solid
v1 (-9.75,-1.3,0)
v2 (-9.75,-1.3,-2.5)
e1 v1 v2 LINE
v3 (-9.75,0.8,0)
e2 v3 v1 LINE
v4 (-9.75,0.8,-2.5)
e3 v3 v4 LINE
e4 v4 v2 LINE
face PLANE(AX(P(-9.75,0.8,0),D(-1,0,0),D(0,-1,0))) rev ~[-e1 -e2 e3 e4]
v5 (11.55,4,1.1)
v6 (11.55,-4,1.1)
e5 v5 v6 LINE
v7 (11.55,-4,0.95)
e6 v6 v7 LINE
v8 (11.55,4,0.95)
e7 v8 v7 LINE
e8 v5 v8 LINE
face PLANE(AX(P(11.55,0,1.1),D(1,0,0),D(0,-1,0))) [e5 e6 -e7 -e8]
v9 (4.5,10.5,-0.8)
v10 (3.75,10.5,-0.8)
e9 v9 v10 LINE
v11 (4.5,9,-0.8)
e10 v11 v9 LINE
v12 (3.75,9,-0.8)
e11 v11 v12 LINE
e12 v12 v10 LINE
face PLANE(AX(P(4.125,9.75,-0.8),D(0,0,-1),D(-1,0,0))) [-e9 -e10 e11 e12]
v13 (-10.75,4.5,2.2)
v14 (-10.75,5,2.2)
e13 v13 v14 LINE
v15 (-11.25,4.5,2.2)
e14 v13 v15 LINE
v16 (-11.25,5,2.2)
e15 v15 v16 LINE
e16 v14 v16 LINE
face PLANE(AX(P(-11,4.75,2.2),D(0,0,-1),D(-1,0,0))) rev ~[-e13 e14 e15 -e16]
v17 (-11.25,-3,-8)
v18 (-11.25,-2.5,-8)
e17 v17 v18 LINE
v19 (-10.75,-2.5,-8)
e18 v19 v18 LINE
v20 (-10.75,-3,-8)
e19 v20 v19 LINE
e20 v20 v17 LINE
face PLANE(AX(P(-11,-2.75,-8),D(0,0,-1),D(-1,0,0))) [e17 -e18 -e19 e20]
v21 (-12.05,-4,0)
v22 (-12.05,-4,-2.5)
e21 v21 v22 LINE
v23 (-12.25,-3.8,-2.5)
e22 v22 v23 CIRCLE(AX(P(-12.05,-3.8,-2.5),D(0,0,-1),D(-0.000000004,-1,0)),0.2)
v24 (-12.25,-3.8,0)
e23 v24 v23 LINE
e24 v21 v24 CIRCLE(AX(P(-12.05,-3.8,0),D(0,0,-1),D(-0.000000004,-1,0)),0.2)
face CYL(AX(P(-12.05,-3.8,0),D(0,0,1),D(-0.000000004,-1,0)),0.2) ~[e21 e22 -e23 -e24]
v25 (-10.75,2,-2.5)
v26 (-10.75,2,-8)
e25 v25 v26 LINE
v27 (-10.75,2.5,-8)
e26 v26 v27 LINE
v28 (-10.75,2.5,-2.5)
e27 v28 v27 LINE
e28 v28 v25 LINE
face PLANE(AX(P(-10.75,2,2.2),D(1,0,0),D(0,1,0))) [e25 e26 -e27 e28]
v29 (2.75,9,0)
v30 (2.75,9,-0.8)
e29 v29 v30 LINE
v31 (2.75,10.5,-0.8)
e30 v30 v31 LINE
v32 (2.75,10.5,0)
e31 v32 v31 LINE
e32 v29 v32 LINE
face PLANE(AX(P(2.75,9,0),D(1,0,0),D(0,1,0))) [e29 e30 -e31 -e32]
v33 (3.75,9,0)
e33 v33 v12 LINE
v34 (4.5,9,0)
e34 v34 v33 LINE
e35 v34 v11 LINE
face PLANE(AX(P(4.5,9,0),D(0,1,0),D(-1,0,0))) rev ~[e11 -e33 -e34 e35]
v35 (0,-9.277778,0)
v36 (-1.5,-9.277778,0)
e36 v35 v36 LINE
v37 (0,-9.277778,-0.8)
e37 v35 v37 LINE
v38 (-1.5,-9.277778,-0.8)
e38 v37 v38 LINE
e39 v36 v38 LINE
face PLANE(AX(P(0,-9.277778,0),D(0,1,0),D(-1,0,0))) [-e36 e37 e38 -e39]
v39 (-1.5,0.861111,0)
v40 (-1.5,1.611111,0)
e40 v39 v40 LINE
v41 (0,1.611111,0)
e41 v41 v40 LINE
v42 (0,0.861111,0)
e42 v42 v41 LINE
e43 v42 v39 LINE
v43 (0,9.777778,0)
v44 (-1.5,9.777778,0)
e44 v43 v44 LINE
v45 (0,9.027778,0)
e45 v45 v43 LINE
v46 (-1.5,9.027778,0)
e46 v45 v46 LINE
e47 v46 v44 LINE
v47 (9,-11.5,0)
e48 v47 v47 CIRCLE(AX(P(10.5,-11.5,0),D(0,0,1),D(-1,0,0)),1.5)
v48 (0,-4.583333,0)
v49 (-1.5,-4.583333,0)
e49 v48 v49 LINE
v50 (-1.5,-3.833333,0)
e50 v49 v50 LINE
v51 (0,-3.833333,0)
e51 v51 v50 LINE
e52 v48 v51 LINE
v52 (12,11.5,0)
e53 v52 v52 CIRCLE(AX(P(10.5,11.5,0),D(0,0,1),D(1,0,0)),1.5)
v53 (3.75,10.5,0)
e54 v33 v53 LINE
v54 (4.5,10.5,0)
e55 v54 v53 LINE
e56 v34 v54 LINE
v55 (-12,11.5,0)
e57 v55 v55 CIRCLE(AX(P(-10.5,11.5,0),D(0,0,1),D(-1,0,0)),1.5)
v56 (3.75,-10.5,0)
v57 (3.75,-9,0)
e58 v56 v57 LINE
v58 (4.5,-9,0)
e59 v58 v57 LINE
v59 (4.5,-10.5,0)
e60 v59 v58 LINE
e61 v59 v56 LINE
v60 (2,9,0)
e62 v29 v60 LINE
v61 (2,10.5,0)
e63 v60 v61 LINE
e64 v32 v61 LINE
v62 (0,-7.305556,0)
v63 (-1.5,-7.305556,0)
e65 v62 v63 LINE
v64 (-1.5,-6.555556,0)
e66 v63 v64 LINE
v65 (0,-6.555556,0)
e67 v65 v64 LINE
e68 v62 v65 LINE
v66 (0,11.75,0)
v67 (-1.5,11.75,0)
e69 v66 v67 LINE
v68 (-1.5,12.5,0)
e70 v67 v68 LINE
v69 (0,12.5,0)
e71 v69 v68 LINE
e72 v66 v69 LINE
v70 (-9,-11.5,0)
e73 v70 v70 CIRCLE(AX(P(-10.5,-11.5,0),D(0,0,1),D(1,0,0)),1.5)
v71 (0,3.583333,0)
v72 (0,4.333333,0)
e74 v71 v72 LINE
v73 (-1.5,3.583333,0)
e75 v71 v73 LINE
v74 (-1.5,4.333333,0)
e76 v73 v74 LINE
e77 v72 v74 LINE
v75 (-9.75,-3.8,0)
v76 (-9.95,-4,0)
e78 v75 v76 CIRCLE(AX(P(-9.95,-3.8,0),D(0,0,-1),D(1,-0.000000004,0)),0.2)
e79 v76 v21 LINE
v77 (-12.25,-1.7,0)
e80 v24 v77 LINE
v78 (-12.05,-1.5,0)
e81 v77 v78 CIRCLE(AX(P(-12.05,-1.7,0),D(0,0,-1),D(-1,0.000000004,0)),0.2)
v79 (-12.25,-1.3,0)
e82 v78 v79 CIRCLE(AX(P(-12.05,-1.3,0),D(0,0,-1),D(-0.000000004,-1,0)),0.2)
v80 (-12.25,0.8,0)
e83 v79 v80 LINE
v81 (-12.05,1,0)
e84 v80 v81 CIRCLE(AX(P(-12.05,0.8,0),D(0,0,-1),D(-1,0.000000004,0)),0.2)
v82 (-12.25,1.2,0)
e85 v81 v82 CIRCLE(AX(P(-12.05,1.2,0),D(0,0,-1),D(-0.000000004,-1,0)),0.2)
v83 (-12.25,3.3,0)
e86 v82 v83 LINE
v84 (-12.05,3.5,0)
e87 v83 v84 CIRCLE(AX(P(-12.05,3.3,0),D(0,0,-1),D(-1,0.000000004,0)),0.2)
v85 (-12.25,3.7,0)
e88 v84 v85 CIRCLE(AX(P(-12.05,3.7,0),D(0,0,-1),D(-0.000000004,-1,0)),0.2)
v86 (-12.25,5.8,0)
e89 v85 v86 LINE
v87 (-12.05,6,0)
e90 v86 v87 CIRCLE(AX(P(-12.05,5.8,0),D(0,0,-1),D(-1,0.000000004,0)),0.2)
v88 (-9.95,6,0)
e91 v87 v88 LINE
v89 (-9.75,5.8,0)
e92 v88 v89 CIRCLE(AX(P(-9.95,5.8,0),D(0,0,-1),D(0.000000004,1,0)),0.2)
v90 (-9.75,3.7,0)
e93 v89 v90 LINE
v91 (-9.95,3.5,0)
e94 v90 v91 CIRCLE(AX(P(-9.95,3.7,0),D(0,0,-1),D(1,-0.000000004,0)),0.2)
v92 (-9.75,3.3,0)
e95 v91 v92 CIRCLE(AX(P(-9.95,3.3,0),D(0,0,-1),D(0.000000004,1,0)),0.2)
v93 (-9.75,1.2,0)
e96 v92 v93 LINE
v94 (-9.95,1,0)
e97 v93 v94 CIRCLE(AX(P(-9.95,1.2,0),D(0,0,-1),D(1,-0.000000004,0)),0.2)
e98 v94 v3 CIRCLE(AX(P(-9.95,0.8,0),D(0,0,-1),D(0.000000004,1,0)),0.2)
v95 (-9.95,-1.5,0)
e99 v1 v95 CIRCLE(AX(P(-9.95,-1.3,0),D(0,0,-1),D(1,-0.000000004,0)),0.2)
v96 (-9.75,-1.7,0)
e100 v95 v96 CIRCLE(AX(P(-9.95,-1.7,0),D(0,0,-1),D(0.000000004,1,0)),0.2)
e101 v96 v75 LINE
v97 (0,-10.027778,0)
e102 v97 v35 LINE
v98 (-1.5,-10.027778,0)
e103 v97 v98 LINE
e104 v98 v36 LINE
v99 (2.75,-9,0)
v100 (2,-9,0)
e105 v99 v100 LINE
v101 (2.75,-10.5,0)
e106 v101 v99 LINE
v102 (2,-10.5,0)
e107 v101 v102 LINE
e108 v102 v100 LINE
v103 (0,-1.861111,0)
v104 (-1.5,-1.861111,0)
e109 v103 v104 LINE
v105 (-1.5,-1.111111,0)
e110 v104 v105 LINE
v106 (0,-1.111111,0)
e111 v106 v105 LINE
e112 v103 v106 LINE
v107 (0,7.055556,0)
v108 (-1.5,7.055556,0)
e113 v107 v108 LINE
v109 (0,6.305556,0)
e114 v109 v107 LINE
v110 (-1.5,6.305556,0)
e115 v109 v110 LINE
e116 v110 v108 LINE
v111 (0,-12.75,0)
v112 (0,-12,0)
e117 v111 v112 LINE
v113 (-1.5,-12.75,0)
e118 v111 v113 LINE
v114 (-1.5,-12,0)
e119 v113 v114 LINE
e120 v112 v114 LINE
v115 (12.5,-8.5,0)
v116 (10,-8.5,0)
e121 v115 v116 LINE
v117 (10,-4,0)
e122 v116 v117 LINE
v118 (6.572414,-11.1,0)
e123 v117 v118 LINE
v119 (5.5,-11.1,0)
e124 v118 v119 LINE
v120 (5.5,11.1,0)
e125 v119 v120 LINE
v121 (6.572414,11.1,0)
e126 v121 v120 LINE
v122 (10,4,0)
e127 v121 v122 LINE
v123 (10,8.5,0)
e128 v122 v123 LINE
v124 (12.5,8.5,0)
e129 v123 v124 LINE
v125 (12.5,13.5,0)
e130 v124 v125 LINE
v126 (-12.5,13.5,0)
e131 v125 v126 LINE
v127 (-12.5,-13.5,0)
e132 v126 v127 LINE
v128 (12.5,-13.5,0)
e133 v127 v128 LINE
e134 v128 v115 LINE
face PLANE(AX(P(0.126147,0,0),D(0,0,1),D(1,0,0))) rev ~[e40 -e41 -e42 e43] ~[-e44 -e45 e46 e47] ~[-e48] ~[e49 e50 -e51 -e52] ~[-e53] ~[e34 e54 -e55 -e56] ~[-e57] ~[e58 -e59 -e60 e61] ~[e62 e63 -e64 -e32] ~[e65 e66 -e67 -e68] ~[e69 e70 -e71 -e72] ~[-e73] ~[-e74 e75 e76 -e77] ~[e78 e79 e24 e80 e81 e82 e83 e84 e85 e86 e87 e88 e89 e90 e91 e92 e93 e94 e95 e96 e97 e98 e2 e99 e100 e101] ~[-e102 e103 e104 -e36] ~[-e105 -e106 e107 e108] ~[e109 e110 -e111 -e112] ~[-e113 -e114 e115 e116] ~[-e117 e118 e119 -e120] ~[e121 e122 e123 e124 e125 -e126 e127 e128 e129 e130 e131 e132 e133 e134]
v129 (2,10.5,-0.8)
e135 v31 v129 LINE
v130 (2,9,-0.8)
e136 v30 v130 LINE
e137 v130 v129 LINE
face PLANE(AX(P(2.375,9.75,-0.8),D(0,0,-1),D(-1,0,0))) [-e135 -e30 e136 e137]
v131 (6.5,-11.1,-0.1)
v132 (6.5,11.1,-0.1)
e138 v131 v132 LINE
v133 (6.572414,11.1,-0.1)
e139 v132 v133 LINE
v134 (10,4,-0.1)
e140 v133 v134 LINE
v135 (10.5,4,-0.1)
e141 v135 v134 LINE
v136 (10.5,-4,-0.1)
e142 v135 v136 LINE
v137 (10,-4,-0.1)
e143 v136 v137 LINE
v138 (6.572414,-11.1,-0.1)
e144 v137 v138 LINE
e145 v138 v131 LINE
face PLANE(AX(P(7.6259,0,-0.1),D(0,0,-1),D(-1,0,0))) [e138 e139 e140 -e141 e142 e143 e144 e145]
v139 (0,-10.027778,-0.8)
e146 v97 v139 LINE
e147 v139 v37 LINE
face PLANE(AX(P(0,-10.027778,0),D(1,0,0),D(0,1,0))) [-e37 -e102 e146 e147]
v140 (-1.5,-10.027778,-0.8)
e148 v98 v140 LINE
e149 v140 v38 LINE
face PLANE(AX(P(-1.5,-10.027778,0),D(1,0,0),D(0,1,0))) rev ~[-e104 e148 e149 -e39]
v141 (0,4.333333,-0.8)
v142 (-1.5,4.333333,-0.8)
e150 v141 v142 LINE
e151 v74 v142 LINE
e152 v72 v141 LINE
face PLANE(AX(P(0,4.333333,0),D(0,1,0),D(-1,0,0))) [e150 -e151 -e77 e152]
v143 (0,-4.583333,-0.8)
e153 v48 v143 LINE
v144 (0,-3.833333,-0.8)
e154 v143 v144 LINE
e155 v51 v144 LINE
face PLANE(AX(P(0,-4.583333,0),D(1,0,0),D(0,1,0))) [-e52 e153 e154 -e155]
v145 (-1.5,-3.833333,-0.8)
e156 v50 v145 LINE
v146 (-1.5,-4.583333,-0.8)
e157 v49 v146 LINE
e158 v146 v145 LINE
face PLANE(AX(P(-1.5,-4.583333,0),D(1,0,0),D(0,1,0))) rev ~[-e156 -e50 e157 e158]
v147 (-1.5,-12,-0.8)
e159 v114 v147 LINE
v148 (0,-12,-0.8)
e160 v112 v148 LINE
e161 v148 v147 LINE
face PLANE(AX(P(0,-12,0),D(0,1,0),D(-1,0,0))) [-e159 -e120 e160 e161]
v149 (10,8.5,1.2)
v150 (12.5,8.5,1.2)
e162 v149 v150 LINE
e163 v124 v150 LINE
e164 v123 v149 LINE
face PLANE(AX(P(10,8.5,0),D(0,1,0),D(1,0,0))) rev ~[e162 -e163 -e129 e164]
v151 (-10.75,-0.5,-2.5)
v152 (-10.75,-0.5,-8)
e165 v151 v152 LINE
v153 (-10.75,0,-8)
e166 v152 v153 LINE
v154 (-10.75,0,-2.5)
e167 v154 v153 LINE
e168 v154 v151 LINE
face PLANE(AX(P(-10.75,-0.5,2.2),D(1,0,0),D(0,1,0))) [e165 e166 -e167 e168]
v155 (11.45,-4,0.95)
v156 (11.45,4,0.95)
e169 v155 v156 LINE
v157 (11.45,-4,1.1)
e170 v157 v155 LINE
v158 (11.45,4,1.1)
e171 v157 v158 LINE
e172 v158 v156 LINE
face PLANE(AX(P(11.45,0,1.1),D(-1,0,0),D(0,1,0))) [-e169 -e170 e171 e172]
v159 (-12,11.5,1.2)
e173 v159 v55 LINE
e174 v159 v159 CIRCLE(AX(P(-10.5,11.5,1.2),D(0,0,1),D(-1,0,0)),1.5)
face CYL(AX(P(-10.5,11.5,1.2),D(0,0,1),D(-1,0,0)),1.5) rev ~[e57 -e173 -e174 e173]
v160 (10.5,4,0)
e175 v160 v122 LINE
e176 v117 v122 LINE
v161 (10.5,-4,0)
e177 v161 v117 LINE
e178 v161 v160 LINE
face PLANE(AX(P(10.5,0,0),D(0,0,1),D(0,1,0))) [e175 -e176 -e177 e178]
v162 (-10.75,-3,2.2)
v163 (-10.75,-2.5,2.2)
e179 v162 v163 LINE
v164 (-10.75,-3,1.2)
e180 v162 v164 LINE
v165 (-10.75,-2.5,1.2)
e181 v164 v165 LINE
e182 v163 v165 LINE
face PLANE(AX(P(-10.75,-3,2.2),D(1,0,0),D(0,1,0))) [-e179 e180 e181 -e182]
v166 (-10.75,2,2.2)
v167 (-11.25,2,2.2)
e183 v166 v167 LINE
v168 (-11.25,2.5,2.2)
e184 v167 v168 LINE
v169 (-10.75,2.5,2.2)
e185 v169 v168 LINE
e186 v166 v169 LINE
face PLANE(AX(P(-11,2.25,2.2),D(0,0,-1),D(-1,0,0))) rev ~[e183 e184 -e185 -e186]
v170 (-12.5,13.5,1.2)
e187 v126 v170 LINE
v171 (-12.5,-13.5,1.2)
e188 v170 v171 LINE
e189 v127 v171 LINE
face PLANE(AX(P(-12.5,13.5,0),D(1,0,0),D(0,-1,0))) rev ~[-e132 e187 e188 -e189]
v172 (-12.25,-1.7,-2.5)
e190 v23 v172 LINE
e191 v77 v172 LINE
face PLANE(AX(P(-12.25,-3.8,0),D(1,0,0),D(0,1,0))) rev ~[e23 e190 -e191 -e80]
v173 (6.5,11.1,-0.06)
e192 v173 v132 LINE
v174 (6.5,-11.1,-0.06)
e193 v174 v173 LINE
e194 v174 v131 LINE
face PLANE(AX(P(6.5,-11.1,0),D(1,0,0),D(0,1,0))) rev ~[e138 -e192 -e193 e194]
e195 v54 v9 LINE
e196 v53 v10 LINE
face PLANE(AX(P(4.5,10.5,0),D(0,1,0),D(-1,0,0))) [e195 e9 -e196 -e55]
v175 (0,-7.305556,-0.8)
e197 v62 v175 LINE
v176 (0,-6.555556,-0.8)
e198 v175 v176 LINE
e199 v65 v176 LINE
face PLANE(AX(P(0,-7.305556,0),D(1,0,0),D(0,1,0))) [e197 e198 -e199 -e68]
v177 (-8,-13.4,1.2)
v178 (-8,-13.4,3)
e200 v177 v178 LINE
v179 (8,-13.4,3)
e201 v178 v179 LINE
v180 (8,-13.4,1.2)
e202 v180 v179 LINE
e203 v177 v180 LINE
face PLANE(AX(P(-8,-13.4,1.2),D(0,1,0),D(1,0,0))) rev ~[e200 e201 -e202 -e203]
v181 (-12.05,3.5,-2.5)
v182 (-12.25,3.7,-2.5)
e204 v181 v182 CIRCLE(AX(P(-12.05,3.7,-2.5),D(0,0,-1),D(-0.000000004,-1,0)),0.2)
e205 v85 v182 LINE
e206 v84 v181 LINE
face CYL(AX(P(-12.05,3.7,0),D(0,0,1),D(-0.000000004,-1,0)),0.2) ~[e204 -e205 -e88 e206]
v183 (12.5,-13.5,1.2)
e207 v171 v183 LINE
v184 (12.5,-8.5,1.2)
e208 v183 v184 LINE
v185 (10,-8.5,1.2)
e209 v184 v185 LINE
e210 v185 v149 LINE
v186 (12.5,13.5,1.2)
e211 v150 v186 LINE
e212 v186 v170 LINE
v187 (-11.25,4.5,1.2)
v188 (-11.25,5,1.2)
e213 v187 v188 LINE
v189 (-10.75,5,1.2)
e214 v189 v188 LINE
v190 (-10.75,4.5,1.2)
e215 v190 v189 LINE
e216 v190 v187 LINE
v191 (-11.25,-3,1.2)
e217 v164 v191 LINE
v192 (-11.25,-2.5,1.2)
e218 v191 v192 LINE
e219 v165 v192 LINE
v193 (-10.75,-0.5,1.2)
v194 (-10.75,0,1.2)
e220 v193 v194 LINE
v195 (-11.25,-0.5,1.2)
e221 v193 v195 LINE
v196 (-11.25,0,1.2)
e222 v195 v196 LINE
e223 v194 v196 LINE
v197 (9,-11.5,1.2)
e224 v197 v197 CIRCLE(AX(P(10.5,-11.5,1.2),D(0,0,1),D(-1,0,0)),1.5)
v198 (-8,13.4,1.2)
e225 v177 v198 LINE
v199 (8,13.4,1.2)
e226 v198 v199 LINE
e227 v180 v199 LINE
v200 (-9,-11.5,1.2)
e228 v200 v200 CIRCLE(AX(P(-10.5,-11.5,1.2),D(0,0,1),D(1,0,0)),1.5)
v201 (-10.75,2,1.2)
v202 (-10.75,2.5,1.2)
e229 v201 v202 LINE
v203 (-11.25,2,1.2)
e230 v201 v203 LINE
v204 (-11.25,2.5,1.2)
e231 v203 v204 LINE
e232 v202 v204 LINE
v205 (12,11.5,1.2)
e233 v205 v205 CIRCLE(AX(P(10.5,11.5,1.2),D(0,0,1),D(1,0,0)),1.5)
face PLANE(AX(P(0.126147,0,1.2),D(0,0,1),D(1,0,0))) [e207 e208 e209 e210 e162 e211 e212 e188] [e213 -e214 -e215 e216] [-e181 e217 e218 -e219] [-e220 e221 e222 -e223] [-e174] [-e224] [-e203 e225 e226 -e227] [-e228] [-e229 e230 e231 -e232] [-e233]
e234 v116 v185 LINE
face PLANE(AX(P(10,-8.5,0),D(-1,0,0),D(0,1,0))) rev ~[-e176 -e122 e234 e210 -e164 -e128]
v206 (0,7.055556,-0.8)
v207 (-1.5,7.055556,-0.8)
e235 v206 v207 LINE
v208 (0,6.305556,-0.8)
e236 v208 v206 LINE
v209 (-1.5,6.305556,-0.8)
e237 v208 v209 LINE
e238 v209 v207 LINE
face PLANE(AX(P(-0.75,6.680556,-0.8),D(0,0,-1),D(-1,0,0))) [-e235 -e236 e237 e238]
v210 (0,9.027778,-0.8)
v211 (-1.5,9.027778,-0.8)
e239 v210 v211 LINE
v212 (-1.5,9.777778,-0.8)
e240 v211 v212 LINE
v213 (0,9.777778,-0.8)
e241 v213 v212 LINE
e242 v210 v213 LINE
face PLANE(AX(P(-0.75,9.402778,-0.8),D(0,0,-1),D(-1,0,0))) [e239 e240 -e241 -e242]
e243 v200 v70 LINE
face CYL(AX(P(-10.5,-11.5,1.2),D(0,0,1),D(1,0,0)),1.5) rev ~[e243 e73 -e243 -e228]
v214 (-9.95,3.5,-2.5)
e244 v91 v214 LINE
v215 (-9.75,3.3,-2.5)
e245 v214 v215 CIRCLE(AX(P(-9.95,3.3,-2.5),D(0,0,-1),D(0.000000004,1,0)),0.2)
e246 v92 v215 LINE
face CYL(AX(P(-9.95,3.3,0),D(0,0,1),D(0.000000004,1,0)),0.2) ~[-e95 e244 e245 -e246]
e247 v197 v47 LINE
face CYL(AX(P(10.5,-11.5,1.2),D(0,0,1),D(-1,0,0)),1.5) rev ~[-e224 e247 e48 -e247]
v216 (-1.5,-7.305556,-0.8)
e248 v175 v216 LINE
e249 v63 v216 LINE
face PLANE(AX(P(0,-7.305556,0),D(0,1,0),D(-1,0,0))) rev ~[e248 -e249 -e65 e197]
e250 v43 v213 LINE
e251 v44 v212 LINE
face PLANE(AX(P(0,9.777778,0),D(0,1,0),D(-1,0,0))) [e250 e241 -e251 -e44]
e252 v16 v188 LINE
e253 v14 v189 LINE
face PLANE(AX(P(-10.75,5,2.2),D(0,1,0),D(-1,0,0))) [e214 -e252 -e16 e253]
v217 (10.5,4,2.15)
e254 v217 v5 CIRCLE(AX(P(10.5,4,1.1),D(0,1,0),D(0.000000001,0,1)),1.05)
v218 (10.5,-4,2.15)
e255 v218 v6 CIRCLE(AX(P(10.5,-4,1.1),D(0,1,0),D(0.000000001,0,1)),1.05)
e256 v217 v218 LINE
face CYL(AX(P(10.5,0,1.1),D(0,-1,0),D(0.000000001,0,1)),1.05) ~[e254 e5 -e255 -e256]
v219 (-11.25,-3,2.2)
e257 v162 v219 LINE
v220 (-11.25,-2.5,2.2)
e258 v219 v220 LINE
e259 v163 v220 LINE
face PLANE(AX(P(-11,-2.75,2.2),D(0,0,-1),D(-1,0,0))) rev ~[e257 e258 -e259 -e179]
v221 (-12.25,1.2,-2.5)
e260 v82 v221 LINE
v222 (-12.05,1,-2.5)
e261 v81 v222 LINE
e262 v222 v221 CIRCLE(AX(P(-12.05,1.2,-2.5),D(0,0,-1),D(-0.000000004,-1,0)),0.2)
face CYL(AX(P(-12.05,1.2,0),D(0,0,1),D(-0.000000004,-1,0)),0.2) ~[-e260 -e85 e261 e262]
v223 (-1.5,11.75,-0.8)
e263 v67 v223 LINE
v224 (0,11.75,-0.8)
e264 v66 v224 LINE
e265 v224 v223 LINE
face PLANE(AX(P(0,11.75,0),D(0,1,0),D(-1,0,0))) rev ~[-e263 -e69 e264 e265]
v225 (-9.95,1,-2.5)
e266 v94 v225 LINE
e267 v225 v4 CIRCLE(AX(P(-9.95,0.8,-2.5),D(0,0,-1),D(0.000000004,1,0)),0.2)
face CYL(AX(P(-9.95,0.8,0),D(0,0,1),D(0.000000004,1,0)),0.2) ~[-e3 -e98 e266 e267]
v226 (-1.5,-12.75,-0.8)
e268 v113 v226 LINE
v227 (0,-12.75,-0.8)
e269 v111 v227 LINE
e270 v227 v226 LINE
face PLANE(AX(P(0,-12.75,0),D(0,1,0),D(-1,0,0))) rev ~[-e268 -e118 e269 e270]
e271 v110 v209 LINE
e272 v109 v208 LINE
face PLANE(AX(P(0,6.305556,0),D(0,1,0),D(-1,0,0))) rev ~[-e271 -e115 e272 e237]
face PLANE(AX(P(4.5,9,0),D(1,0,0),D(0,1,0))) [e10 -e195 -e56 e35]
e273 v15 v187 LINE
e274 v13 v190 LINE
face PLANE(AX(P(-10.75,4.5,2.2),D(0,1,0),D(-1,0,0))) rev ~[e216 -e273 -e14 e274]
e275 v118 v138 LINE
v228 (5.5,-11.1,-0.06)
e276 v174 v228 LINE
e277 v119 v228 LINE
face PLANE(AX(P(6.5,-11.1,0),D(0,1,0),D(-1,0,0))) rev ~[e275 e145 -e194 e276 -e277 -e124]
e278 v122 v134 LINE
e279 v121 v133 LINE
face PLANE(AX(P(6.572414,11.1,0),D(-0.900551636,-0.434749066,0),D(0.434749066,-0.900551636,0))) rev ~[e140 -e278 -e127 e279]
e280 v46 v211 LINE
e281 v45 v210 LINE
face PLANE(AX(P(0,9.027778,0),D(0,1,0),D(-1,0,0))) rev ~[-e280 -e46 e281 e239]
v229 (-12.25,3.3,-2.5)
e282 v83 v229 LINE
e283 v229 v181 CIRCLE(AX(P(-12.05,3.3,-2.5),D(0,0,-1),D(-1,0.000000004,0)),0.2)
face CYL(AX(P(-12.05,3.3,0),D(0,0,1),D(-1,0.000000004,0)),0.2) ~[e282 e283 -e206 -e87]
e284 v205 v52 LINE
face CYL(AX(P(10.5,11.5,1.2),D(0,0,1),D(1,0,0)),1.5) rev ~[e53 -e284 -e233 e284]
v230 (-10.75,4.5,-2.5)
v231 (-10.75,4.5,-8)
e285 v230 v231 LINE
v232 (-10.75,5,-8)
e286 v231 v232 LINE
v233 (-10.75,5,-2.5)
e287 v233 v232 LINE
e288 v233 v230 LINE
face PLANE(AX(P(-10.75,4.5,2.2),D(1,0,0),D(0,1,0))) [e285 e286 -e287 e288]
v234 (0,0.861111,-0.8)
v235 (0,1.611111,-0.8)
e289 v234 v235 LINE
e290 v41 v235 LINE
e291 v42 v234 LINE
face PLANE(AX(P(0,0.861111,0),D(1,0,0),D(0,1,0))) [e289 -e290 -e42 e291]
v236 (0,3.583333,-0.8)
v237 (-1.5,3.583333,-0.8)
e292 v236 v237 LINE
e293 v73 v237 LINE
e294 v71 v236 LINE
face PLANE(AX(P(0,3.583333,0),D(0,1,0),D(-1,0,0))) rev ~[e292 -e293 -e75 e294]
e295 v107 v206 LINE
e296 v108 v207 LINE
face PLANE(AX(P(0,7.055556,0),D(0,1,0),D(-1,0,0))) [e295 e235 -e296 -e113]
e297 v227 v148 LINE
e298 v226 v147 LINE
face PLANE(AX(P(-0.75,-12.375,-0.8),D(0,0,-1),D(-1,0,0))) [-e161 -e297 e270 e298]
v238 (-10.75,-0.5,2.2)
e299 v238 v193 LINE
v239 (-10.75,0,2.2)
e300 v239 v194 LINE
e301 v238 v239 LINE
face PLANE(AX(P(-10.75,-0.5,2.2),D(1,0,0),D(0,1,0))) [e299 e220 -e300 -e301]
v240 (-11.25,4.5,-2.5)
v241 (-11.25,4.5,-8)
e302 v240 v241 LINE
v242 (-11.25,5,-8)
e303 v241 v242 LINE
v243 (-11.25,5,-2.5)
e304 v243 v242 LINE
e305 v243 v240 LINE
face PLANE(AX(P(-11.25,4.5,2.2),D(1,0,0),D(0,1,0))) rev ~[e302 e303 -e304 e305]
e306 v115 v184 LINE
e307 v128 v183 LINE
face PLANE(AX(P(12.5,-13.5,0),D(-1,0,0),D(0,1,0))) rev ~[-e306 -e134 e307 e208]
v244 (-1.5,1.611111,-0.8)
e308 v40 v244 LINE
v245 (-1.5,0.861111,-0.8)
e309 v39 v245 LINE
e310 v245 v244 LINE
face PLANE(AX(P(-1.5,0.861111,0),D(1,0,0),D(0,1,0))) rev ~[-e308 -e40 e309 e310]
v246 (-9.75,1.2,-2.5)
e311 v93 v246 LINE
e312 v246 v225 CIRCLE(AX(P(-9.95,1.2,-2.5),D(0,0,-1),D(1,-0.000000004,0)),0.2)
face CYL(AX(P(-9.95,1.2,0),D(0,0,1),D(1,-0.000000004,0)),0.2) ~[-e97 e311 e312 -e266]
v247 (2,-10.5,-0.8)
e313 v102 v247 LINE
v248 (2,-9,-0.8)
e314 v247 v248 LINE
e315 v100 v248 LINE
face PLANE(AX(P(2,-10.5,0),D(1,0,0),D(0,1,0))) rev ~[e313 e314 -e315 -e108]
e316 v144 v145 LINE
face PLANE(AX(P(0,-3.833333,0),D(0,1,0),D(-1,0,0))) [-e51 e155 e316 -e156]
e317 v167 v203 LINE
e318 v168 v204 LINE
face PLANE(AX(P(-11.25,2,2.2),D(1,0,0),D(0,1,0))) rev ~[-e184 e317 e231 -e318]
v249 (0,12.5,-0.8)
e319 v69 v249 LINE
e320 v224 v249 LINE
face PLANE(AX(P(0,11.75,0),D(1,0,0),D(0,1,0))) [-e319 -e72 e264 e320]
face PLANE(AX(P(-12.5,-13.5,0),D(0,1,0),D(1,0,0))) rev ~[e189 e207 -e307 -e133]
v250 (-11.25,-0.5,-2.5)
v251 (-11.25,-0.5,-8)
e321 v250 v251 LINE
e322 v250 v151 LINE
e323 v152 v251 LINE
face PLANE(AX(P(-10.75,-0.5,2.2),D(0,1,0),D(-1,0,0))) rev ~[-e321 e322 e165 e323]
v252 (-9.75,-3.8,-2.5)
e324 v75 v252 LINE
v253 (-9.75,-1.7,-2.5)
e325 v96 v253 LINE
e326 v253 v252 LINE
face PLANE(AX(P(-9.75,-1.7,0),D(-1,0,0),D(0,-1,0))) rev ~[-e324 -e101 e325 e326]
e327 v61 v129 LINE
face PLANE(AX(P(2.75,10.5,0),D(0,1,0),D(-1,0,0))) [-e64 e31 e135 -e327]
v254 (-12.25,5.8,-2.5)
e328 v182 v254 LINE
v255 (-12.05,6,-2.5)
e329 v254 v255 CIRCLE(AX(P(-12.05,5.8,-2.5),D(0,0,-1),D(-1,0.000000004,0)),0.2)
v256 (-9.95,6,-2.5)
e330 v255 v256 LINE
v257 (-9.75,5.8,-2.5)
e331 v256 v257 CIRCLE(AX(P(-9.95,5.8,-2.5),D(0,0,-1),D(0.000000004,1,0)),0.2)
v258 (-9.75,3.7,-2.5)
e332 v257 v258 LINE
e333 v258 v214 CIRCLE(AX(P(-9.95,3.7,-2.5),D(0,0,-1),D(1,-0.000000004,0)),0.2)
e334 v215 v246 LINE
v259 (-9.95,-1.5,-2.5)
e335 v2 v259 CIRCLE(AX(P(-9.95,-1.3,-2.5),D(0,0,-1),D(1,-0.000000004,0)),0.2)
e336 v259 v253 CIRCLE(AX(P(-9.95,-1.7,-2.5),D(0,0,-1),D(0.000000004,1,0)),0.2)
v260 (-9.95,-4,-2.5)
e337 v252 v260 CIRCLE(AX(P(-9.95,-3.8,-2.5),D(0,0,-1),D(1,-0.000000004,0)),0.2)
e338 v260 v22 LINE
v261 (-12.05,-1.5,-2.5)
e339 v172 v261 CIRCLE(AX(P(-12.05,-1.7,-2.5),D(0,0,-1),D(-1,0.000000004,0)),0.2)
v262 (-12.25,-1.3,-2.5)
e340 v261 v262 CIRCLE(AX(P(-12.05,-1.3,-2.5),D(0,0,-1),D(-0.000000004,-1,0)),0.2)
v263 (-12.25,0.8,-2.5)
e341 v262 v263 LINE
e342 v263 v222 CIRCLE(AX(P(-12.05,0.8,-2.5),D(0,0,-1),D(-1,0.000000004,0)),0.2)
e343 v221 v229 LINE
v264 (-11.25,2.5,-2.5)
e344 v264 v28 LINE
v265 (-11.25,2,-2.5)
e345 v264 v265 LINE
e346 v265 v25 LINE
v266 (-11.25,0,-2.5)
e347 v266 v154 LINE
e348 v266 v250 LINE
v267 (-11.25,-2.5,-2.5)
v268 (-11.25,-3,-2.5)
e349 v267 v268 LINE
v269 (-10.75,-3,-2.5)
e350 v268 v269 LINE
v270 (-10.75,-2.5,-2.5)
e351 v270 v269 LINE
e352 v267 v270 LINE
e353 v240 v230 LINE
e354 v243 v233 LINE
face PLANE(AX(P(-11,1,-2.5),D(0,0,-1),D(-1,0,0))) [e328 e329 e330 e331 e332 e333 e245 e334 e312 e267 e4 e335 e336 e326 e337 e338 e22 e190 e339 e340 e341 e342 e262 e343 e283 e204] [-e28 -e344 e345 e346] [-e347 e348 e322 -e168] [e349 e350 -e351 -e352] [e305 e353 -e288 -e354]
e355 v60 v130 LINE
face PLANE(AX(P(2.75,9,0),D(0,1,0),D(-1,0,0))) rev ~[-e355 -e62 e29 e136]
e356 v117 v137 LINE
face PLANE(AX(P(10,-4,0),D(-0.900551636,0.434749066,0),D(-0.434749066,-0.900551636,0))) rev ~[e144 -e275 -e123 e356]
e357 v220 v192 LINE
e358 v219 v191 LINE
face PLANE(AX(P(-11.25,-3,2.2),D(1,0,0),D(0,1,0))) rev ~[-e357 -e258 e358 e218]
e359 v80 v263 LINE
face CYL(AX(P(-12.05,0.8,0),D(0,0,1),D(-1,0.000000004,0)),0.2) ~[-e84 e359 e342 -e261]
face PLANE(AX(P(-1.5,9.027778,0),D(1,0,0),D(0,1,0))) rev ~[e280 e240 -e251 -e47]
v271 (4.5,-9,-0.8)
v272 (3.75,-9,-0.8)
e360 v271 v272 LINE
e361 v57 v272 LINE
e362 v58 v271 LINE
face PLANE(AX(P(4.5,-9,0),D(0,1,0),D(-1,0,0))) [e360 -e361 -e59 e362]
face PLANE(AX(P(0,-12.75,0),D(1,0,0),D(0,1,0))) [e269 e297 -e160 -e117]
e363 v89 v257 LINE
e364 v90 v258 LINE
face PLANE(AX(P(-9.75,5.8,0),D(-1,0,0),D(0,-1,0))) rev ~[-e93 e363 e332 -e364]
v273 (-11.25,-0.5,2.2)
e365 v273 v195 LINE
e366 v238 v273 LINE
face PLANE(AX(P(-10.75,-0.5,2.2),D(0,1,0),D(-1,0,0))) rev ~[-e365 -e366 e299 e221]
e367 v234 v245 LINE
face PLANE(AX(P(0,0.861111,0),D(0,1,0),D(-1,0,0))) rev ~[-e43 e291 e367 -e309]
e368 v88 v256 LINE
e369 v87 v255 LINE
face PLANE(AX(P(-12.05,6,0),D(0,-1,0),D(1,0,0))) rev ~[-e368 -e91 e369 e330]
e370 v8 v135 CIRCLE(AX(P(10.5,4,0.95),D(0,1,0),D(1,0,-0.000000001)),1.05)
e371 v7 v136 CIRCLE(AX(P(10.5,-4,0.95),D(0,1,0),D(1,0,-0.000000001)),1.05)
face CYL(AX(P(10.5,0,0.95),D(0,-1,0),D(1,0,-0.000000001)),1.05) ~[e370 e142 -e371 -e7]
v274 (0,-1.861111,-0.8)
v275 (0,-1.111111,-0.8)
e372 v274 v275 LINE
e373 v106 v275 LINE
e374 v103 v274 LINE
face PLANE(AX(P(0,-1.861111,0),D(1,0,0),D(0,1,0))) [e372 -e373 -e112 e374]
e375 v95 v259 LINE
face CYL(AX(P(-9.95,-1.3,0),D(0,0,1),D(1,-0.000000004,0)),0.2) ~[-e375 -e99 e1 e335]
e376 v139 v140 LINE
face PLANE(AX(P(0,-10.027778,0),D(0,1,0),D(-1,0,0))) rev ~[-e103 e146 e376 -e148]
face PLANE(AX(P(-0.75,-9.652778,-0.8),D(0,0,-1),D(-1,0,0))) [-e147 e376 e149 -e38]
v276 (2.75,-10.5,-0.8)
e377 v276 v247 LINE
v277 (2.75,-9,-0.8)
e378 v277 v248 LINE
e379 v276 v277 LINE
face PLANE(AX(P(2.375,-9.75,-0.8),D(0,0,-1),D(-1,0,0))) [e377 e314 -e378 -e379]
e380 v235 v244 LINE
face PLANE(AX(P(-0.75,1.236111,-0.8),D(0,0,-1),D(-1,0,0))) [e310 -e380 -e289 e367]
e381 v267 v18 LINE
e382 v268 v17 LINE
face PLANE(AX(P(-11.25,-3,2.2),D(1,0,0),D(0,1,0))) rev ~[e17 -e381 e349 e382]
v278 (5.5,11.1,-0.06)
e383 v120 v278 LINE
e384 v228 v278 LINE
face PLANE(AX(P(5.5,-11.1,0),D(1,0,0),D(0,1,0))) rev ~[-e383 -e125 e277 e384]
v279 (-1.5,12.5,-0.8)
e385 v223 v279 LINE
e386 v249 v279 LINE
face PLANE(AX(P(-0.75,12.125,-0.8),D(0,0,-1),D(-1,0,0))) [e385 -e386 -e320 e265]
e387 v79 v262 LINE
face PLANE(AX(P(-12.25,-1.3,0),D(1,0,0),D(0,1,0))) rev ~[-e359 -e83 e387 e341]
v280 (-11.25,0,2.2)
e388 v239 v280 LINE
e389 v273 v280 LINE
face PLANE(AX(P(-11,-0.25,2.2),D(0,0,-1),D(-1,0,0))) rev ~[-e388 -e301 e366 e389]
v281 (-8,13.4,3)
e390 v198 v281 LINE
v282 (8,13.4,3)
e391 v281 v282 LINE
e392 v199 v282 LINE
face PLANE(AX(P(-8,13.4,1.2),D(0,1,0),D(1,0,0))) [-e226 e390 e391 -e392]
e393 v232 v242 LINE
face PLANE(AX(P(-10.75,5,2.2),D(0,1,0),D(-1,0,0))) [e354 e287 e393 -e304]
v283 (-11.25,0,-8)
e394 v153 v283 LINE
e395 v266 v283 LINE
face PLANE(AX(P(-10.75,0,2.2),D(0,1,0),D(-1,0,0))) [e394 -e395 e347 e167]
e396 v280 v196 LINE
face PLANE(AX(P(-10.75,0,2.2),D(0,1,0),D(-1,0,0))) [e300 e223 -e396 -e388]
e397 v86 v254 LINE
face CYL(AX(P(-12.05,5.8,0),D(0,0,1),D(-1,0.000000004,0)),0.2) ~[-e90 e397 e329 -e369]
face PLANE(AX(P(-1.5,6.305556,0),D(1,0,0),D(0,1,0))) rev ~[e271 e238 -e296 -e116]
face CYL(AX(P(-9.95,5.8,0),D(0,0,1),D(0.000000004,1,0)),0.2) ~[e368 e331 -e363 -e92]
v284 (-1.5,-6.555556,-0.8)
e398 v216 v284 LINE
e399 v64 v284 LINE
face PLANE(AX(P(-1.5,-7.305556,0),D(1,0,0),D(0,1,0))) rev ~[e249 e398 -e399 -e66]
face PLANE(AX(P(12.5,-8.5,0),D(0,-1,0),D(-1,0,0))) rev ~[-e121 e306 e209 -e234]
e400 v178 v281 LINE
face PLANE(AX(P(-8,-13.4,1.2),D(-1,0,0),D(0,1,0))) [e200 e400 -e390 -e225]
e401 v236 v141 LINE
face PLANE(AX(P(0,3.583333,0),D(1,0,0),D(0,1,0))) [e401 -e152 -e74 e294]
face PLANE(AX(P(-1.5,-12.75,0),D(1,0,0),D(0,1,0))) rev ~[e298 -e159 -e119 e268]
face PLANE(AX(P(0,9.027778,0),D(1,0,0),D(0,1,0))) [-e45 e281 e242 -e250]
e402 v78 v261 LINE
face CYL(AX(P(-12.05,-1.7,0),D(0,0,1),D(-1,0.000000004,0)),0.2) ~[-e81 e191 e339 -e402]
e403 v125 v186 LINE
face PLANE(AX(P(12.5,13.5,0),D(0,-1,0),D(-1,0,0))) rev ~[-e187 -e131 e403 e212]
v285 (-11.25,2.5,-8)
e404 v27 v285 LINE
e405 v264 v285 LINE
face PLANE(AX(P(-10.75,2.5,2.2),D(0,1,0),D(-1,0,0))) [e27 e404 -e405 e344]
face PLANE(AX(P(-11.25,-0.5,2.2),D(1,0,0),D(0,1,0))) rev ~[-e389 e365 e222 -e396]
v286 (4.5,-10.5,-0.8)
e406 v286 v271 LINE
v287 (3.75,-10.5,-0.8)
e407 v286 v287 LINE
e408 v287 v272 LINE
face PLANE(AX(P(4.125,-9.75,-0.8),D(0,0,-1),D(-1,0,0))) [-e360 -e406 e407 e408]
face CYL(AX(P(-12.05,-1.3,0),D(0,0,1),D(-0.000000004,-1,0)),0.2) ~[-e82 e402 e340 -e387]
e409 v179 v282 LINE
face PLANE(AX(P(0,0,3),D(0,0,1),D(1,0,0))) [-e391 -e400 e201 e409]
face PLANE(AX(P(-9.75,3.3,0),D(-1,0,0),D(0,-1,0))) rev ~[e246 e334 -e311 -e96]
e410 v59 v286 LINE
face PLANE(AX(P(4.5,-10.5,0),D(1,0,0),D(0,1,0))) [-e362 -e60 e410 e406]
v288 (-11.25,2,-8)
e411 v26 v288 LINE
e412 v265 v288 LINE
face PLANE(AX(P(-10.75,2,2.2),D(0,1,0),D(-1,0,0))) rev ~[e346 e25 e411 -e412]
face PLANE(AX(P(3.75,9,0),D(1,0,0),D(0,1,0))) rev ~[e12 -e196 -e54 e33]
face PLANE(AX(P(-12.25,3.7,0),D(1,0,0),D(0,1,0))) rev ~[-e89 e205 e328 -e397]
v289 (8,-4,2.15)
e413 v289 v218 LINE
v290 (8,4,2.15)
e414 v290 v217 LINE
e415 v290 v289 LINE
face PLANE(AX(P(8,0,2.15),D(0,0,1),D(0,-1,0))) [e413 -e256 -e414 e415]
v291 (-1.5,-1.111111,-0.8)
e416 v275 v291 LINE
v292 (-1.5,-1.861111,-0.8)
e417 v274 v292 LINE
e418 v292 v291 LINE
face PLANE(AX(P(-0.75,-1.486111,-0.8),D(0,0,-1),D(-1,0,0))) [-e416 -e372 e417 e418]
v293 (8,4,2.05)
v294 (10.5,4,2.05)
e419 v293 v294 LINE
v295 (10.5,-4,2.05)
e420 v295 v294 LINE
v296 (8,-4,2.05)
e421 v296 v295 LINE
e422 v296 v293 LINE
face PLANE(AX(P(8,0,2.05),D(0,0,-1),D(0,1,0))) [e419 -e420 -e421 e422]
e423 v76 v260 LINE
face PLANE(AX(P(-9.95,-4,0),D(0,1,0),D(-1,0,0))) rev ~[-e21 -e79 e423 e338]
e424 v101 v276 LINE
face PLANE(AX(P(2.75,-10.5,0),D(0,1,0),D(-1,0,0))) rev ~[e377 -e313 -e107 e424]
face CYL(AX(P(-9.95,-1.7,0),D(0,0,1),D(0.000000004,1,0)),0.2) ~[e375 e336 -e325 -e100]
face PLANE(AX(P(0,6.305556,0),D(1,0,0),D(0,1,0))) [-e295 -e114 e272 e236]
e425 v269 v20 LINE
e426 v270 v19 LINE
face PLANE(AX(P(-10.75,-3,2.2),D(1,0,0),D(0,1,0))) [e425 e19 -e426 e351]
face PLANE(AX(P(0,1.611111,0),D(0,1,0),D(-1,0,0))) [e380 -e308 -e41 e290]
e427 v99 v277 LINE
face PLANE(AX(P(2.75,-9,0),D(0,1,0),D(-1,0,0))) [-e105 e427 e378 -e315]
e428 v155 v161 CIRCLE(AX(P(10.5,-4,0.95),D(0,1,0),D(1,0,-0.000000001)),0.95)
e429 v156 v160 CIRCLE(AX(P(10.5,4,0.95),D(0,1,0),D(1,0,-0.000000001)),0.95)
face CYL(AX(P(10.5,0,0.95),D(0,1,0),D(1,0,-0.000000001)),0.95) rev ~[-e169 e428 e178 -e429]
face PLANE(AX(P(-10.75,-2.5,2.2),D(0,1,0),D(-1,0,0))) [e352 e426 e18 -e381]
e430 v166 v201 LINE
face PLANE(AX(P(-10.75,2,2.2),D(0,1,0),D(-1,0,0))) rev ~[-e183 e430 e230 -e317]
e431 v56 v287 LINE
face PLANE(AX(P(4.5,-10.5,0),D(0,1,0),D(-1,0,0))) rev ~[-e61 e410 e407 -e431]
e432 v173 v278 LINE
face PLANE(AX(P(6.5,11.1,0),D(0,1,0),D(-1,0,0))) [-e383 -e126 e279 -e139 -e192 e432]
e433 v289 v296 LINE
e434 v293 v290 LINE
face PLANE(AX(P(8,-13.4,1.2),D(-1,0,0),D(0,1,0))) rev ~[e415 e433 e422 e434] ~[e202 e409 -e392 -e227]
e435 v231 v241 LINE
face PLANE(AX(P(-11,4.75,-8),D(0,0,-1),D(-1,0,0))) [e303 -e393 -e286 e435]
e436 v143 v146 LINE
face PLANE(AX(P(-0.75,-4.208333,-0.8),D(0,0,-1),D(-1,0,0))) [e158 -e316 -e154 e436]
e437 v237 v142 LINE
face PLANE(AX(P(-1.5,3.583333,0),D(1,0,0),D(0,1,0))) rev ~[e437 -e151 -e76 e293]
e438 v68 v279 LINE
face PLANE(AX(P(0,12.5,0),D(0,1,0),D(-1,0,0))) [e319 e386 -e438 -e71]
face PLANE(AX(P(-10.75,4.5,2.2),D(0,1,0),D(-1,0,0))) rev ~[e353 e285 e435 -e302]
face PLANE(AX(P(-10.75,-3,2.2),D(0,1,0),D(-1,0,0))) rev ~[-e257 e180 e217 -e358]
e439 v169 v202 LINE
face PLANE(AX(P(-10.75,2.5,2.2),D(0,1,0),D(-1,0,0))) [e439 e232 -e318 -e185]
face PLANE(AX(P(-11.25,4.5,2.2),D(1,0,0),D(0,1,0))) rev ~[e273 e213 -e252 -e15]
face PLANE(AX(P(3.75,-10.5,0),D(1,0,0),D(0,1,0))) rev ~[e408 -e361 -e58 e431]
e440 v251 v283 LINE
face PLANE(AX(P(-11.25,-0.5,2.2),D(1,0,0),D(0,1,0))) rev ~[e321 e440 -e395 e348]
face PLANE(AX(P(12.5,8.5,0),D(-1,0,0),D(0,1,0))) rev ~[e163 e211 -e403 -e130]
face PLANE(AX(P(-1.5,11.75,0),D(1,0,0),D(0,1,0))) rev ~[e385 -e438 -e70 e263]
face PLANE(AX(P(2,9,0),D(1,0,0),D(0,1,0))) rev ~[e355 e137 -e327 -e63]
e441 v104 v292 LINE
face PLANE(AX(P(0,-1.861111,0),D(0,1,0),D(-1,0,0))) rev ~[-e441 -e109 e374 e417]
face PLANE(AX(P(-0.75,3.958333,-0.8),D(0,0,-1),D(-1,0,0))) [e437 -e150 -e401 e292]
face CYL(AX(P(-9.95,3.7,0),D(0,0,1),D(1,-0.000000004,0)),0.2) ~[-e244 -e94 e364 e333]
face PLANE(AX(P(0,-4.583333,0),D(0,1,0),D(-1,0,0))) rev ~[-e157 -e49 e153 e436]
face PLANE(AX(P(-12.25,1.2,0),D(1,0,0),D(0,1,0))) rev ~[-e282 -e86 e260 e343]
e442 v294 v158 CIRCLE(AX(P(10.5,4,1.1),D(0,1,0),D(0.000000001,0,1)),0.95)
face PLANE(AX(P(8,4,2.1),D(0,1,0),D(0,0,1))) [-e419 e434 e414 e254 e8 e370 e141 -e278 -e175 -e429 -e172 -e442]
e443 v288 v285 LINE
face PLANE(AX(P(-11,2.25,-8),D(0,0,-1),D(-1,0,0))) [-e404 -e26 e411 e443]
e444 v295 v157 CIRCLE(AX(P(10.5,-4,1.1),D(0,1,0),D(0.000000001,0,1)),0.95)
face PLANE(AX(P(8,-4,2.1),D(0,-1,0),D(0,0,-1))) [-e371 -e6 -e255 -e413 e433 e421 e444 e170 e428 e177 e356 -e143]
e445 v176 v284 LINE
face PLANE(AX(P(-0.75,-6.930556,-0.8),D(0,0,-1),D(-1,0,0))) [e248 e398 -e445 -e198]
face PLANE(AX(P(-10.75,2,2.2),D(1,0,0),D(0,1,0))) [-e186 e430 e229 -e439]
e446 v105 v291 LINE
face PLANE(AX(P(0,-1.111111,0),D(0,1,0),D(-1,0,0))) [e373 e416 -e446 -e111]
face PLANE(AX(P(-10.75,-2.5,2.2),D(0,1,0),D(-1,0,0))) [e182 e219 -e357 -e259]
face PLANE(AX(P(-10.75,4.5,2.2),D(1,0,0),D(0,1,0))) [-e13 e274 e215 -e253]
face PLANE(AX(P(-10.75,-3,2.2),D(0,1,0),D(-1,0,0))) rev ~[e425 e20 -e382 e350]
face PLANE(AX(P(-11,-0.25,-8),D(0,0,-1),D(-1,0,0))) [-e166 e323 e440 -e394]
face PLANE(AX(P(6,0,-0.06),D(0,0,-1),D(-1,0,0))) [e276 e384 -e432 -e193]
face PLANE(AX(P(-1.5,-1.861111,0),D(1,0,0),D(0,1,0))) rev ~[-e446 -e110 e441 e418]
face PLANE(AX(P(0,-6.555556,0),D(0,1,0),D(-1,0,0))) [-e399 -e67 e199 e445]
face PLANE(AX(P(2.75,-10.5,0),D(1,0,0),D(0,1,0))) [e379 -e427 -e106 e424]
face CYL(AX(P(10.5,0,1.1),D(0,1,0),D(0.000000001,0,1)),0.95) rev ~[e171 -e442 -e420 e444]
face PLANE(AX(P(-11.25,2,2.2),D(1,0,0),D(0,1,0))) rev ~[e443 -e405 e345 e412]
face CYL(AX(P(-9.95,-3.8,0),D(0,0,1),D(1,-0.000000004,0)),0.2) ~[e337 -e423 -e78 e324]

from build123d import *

# Parameters (mm, degrees)
BOSS_EXTRUDE1_DEPTH      = 1.2
SKETCH2_R                = 1.5
CUT_EXTRUDE1_DEPTH       = 19.437461864
BOSS_EXTRUDE2_DEPTH      = 2.5
BOSS_EXTRUDE3_DEPTH      = 5.5
BOSS_EXTRUDE3_DEPTH_BACK = 4.7
SKETCH6_W                = 0.5
SKETCH6_H                = 0.5
SKETCH7_W                = 16
SKETCH7_H                = 26.8
BOSS_EXTRUDE4_DEPTH      = 1.8
SKETCH8_W                = 1.5
SKETCH8_H                = 0.75
SKETCH8_W_2              = 0.75
SKETCH8_H_2              = 1.5
BOSS_EXTRUDE5_DEPTH      = 0.8
SKETCH10_W               = 0.1
SKETCH10_H               = 8
BOSS_EXTRUDE6_DEPTH      = 0.1
SKETCH12_W               = 1
SKETCH12_H               = 22.2
BOSS_EXTRUDE7_DEPTH      = 0.06


with BuildPart() as part:
    # Sketch1 → Boss-Extrude1 (new body)
    with BuildSketch(Plane.XY):
        Polygon((10, -8.5), (10, 8.5), (12.5, 8.5), (12.5, 13.5), (-12.5, 13.5), (-12.5, -13.5), (12.5, -13.5), (12.5, -8.5), align=None)
    extrude(amount=BOSS_EXTRUDE1_DEPTH)

    # Sketch2 → Cut-Extrude1 (cut, through all)
    with BuildSketch(Plane.XY.offset(1.2)):
        with Locations((10.5, 11.5)):
            Circle(SKETCH2_R)
        with Locations(Location((10.5, -11.5, 0), (0, 0, 180))):
            Circle(SKETCH2_R)
        with Locations(Location((-10.5, 11.5, 0), (0, 0, 180))):
            Circle(SKETCH2_R)
        with Locations((-10.5, -11.5)):
            Circle(SKETCH2_R)
    extrude(amount=-CUT_EXTRUDE1_DEPTH, mode=Mode.SUBTRACT)

    # Sketch5 → Boss-Extrude2 (add)
    with BuildSketch(Plane(origin=(0, 0, 0), x_dir=(-1, 0, 0), z_dir=(0, 0, -1))):
        with BuildLine():
            Line((12.05, 6), (9.95, 6))
            ThreePointArc((9.95, 6), (9.808578644, 5.941421356), (9.75, 5.8))
            Line((9.75, 5.8), (9.75, 3.7))
            ThreePointArc((9.75, 3.7), (9.808578644, 3.558578644), (9.95, 3.5))
            ThreePointArc((9.95, 3.5), (9.808578644, 3.441421356), (9.75, 3.3))
            Line((9.75, 3.3), (9.75, 1.2))
            ThreePointArc((9.75, 1.2), (9.808578644, 1.058578644), (9.95, 1))
            ThreePointArc((9.95, 1), (9.808578644, 0.941421356), (9.75, 0.8))
            Line((9.75, 0.8), (9.75, -1.3))
            ThreePointArc((9.75, -1.3), (9.808578644, -1.441421356), (9.95, -1.5))
            ThreePointArc((9.95, -1.5), (9.808578644, -1.558578644), (9.75, -1.7))
            Line((9.75, -1.7), (9.75, -3.8))
            ThreePointArc((9.75, -3.8), (9.808578644, -3.941421356), (9.95, -4))
            Line((9.95, -4), (12.05, -4))
            ThreePointArc((12.05, -4), (12.191421356, -3.941421356), (12.25, -3.8))
            Line((12.25, -3.8), (12.25, -1.7))
            ThreePointArc((12.25, -1.7), (12.191421356, -1.558578644), (12.05, -1.5))
            ThreePointArc((12.05, -1.5), (12.191421356, -1.441421356), (12.25, -1.3))
            Line((12.25, -1.3), (12.25, 0.8))
            ThreePointArc((12.25, 0.8), (12.191421356, 0.941421356), (12.05, 1))
            ThreePointArc((12.05, 1), (12.191421356, 1.058578644), (12.25, 1.2))
            Line((12.25, 1.2), (12.25, 3.3))
            ThreePointArc((12.25, 3.3), (12.191421356, 3.441421356), (12.05, 3.5))
            ThreePointArc((12.05, 3.5), (12.191421356, 3.558578644), (12.25, 3.7))
            Line((12.25, 3.7), (12.25, 5.8))
            ThreePointArc((12.25, 5.8), (12.191421356, 5.941421356), (12.05, 6))
        make_face()
    extrude(amount=BOSS_EXTRUDE2_DEPTH)

    # Sketch6 → Boss-Extrude3 (add, two sides: drawn at the far end of the back side and taken through both)
    with BuildSketch(Plane(origin=(0, 0, -2.5), x_dir=(-1, 0, 0), z_dir=(0, 0, -1)).offset(-BOSS_EXTRUDE3_DEPTH_BACK)):
        with Locations((11, 4.75)):
            Rectangle(SKETCH6_W, SKETCH6_H)
        with Locations((11, 2.25)):
            Rectangle(SKETCH6_W, SKETCH6_H)
        with Locations((11, -0.25)):
            Rectangle(SKETCH6_W, SKETCH6_H)
        with Locations((11, -2.75)):
            Rectangle(SKETCH6_W, SKETCH6_H)
    extrude(amount=BOSS_EXTRUDE3_DEPTH + BOSS_EXTRUDE3_DEPTH_BACK)

    # Sketch7 → Boss-Extrude4 (add)
    with BuildSketch(Plane.XY.offset(1.2)):
        Rectangle(SKETCH7_W, SKETCH7_H)
    extrude(amount=BOSS_EXTRUDE4_DEPTH)

    # Sketch8 → Boss-Extrude5 (add)
    with BuildSketch(Plane(origin=(0, 0, 0), x_dir=(-1, 0, 0), z_dir=(0, 0, -1))):
        with Locations((0.75, 12.125)):
            Rectangle(SKETCH8_W, SKETCH8_H)
        with Locations((0.75, 9.402777778)):
            Rectangle(SKETCH8_W, SKETCH8_H)
        with Locations((0.75, 6.680555556)):
            Rectangle(SKETCH8_W, SKETCH8_H)
        with Locations((0.75, 3.958333333)):
            Rectangle(SKETCH8_W, SKETCH8_H)
        with Locations((0.75, 1.236111111)):
            Rectangle(SKETCH8_W, SKETCH8_H)
        with Locations((0.75, -1.486111111)):
            Rectangle(SKETCH8_W, SKETCH8_H)
        with Locations((0.75, -4.208333333)):
            Rectangle(SKETCH8_W, SKETCH8_H)
        with Locations((0.75, -6.930555556)):
            Rectangle(SKETCH8_W, SKETCH8_H)
        with Locations((0.75, -9.652777778)):
            Rectangle(SKETCH8_W, SKETCH8_H)
        with Locations((0.75, -12.375)):
            Rectangle(SKETCH8_W, SKETCH8_H)
        with Locations((-2.375, -9.75)):
            Rectangle(SKETCH8_W_2, SKETCH8_H_2)
        with Locations((-4.125, -9.75)):
            Rectangle(SKETCH8_W_2, SKETCH8_H_2)
        with Locations((-2.375, 9.75)):
            Rectangle(SKETCH8_W_2, SKETCH8_H_2)
        with Locations((-4.125, 9.75)):
            Rectangle(SKETCH8_W_2, SKETCH8_H_2)
    extrude(amount=BOSS_EXTRUDE5_DEPTH)

    # Sweep1: sweep along a path in Sketch9
    with BuildLine(Plane(origin=(0, 13.5, 0), x_dir=(1, 0, 0), z_dir=(0, 1, 0))) as sweep1_path:
        Line((8, -2.1), (10.5, -2.1))
        ThreePointArc((10.5, -2.1), (11.207106781, -1.807106781), (11.5, -1.1))
        Line((11.5, -1.1), (11.5, -0.95))
        ThreePointArc((11.5, -0.95), (11.207106781, -0.242893219), (10.5, 0.05))
        Line((10.5, 0.05), (9, 0.05))
    # Sketch10 → Sweep1 (sweep)
    with BuildSketch(Plane(origin=(8, 0, 0), x_dir=(0, 0, -1), z_dir=(1, 0, 0))):
        with Locations((-2.1, 0)):
            Rectangle(SKETCH10_W, SKETCH10_H)
    sweep(path=sweep1_path.line)

    # Sketch11 → Boss-Extrude6 (add)
    with BuildSketch(Plane(origin=(0, 0, 0), x_dir=(-1, 0, 0), z_dir=(0, 0, -1))):
        Polygon((-6.5, -11.1), (-6.5, 11.1), (-6.572413793, 11.1), (-10, 4), (-9, 4), (-9, -4), (-10, -4), (-6.572413793, -11.1), align=None)
    extrude(amount=BOSS_EXTRUDE6_DEPTH)

    # Sketch12 → Boss-Extrude7 (add)
    with BuildSketch(Plane(origin=(0, 0, 0), x_dir=(-1, 0, 0), z_dir=(0, 0, -1))):
        with Locations((-6, 0)):
            Rectangle(SKETCH12_W, SKETCH12_H)
    extrude(amount=BOSS_EXTRUDE7_DEPTH)


solid = part.part
